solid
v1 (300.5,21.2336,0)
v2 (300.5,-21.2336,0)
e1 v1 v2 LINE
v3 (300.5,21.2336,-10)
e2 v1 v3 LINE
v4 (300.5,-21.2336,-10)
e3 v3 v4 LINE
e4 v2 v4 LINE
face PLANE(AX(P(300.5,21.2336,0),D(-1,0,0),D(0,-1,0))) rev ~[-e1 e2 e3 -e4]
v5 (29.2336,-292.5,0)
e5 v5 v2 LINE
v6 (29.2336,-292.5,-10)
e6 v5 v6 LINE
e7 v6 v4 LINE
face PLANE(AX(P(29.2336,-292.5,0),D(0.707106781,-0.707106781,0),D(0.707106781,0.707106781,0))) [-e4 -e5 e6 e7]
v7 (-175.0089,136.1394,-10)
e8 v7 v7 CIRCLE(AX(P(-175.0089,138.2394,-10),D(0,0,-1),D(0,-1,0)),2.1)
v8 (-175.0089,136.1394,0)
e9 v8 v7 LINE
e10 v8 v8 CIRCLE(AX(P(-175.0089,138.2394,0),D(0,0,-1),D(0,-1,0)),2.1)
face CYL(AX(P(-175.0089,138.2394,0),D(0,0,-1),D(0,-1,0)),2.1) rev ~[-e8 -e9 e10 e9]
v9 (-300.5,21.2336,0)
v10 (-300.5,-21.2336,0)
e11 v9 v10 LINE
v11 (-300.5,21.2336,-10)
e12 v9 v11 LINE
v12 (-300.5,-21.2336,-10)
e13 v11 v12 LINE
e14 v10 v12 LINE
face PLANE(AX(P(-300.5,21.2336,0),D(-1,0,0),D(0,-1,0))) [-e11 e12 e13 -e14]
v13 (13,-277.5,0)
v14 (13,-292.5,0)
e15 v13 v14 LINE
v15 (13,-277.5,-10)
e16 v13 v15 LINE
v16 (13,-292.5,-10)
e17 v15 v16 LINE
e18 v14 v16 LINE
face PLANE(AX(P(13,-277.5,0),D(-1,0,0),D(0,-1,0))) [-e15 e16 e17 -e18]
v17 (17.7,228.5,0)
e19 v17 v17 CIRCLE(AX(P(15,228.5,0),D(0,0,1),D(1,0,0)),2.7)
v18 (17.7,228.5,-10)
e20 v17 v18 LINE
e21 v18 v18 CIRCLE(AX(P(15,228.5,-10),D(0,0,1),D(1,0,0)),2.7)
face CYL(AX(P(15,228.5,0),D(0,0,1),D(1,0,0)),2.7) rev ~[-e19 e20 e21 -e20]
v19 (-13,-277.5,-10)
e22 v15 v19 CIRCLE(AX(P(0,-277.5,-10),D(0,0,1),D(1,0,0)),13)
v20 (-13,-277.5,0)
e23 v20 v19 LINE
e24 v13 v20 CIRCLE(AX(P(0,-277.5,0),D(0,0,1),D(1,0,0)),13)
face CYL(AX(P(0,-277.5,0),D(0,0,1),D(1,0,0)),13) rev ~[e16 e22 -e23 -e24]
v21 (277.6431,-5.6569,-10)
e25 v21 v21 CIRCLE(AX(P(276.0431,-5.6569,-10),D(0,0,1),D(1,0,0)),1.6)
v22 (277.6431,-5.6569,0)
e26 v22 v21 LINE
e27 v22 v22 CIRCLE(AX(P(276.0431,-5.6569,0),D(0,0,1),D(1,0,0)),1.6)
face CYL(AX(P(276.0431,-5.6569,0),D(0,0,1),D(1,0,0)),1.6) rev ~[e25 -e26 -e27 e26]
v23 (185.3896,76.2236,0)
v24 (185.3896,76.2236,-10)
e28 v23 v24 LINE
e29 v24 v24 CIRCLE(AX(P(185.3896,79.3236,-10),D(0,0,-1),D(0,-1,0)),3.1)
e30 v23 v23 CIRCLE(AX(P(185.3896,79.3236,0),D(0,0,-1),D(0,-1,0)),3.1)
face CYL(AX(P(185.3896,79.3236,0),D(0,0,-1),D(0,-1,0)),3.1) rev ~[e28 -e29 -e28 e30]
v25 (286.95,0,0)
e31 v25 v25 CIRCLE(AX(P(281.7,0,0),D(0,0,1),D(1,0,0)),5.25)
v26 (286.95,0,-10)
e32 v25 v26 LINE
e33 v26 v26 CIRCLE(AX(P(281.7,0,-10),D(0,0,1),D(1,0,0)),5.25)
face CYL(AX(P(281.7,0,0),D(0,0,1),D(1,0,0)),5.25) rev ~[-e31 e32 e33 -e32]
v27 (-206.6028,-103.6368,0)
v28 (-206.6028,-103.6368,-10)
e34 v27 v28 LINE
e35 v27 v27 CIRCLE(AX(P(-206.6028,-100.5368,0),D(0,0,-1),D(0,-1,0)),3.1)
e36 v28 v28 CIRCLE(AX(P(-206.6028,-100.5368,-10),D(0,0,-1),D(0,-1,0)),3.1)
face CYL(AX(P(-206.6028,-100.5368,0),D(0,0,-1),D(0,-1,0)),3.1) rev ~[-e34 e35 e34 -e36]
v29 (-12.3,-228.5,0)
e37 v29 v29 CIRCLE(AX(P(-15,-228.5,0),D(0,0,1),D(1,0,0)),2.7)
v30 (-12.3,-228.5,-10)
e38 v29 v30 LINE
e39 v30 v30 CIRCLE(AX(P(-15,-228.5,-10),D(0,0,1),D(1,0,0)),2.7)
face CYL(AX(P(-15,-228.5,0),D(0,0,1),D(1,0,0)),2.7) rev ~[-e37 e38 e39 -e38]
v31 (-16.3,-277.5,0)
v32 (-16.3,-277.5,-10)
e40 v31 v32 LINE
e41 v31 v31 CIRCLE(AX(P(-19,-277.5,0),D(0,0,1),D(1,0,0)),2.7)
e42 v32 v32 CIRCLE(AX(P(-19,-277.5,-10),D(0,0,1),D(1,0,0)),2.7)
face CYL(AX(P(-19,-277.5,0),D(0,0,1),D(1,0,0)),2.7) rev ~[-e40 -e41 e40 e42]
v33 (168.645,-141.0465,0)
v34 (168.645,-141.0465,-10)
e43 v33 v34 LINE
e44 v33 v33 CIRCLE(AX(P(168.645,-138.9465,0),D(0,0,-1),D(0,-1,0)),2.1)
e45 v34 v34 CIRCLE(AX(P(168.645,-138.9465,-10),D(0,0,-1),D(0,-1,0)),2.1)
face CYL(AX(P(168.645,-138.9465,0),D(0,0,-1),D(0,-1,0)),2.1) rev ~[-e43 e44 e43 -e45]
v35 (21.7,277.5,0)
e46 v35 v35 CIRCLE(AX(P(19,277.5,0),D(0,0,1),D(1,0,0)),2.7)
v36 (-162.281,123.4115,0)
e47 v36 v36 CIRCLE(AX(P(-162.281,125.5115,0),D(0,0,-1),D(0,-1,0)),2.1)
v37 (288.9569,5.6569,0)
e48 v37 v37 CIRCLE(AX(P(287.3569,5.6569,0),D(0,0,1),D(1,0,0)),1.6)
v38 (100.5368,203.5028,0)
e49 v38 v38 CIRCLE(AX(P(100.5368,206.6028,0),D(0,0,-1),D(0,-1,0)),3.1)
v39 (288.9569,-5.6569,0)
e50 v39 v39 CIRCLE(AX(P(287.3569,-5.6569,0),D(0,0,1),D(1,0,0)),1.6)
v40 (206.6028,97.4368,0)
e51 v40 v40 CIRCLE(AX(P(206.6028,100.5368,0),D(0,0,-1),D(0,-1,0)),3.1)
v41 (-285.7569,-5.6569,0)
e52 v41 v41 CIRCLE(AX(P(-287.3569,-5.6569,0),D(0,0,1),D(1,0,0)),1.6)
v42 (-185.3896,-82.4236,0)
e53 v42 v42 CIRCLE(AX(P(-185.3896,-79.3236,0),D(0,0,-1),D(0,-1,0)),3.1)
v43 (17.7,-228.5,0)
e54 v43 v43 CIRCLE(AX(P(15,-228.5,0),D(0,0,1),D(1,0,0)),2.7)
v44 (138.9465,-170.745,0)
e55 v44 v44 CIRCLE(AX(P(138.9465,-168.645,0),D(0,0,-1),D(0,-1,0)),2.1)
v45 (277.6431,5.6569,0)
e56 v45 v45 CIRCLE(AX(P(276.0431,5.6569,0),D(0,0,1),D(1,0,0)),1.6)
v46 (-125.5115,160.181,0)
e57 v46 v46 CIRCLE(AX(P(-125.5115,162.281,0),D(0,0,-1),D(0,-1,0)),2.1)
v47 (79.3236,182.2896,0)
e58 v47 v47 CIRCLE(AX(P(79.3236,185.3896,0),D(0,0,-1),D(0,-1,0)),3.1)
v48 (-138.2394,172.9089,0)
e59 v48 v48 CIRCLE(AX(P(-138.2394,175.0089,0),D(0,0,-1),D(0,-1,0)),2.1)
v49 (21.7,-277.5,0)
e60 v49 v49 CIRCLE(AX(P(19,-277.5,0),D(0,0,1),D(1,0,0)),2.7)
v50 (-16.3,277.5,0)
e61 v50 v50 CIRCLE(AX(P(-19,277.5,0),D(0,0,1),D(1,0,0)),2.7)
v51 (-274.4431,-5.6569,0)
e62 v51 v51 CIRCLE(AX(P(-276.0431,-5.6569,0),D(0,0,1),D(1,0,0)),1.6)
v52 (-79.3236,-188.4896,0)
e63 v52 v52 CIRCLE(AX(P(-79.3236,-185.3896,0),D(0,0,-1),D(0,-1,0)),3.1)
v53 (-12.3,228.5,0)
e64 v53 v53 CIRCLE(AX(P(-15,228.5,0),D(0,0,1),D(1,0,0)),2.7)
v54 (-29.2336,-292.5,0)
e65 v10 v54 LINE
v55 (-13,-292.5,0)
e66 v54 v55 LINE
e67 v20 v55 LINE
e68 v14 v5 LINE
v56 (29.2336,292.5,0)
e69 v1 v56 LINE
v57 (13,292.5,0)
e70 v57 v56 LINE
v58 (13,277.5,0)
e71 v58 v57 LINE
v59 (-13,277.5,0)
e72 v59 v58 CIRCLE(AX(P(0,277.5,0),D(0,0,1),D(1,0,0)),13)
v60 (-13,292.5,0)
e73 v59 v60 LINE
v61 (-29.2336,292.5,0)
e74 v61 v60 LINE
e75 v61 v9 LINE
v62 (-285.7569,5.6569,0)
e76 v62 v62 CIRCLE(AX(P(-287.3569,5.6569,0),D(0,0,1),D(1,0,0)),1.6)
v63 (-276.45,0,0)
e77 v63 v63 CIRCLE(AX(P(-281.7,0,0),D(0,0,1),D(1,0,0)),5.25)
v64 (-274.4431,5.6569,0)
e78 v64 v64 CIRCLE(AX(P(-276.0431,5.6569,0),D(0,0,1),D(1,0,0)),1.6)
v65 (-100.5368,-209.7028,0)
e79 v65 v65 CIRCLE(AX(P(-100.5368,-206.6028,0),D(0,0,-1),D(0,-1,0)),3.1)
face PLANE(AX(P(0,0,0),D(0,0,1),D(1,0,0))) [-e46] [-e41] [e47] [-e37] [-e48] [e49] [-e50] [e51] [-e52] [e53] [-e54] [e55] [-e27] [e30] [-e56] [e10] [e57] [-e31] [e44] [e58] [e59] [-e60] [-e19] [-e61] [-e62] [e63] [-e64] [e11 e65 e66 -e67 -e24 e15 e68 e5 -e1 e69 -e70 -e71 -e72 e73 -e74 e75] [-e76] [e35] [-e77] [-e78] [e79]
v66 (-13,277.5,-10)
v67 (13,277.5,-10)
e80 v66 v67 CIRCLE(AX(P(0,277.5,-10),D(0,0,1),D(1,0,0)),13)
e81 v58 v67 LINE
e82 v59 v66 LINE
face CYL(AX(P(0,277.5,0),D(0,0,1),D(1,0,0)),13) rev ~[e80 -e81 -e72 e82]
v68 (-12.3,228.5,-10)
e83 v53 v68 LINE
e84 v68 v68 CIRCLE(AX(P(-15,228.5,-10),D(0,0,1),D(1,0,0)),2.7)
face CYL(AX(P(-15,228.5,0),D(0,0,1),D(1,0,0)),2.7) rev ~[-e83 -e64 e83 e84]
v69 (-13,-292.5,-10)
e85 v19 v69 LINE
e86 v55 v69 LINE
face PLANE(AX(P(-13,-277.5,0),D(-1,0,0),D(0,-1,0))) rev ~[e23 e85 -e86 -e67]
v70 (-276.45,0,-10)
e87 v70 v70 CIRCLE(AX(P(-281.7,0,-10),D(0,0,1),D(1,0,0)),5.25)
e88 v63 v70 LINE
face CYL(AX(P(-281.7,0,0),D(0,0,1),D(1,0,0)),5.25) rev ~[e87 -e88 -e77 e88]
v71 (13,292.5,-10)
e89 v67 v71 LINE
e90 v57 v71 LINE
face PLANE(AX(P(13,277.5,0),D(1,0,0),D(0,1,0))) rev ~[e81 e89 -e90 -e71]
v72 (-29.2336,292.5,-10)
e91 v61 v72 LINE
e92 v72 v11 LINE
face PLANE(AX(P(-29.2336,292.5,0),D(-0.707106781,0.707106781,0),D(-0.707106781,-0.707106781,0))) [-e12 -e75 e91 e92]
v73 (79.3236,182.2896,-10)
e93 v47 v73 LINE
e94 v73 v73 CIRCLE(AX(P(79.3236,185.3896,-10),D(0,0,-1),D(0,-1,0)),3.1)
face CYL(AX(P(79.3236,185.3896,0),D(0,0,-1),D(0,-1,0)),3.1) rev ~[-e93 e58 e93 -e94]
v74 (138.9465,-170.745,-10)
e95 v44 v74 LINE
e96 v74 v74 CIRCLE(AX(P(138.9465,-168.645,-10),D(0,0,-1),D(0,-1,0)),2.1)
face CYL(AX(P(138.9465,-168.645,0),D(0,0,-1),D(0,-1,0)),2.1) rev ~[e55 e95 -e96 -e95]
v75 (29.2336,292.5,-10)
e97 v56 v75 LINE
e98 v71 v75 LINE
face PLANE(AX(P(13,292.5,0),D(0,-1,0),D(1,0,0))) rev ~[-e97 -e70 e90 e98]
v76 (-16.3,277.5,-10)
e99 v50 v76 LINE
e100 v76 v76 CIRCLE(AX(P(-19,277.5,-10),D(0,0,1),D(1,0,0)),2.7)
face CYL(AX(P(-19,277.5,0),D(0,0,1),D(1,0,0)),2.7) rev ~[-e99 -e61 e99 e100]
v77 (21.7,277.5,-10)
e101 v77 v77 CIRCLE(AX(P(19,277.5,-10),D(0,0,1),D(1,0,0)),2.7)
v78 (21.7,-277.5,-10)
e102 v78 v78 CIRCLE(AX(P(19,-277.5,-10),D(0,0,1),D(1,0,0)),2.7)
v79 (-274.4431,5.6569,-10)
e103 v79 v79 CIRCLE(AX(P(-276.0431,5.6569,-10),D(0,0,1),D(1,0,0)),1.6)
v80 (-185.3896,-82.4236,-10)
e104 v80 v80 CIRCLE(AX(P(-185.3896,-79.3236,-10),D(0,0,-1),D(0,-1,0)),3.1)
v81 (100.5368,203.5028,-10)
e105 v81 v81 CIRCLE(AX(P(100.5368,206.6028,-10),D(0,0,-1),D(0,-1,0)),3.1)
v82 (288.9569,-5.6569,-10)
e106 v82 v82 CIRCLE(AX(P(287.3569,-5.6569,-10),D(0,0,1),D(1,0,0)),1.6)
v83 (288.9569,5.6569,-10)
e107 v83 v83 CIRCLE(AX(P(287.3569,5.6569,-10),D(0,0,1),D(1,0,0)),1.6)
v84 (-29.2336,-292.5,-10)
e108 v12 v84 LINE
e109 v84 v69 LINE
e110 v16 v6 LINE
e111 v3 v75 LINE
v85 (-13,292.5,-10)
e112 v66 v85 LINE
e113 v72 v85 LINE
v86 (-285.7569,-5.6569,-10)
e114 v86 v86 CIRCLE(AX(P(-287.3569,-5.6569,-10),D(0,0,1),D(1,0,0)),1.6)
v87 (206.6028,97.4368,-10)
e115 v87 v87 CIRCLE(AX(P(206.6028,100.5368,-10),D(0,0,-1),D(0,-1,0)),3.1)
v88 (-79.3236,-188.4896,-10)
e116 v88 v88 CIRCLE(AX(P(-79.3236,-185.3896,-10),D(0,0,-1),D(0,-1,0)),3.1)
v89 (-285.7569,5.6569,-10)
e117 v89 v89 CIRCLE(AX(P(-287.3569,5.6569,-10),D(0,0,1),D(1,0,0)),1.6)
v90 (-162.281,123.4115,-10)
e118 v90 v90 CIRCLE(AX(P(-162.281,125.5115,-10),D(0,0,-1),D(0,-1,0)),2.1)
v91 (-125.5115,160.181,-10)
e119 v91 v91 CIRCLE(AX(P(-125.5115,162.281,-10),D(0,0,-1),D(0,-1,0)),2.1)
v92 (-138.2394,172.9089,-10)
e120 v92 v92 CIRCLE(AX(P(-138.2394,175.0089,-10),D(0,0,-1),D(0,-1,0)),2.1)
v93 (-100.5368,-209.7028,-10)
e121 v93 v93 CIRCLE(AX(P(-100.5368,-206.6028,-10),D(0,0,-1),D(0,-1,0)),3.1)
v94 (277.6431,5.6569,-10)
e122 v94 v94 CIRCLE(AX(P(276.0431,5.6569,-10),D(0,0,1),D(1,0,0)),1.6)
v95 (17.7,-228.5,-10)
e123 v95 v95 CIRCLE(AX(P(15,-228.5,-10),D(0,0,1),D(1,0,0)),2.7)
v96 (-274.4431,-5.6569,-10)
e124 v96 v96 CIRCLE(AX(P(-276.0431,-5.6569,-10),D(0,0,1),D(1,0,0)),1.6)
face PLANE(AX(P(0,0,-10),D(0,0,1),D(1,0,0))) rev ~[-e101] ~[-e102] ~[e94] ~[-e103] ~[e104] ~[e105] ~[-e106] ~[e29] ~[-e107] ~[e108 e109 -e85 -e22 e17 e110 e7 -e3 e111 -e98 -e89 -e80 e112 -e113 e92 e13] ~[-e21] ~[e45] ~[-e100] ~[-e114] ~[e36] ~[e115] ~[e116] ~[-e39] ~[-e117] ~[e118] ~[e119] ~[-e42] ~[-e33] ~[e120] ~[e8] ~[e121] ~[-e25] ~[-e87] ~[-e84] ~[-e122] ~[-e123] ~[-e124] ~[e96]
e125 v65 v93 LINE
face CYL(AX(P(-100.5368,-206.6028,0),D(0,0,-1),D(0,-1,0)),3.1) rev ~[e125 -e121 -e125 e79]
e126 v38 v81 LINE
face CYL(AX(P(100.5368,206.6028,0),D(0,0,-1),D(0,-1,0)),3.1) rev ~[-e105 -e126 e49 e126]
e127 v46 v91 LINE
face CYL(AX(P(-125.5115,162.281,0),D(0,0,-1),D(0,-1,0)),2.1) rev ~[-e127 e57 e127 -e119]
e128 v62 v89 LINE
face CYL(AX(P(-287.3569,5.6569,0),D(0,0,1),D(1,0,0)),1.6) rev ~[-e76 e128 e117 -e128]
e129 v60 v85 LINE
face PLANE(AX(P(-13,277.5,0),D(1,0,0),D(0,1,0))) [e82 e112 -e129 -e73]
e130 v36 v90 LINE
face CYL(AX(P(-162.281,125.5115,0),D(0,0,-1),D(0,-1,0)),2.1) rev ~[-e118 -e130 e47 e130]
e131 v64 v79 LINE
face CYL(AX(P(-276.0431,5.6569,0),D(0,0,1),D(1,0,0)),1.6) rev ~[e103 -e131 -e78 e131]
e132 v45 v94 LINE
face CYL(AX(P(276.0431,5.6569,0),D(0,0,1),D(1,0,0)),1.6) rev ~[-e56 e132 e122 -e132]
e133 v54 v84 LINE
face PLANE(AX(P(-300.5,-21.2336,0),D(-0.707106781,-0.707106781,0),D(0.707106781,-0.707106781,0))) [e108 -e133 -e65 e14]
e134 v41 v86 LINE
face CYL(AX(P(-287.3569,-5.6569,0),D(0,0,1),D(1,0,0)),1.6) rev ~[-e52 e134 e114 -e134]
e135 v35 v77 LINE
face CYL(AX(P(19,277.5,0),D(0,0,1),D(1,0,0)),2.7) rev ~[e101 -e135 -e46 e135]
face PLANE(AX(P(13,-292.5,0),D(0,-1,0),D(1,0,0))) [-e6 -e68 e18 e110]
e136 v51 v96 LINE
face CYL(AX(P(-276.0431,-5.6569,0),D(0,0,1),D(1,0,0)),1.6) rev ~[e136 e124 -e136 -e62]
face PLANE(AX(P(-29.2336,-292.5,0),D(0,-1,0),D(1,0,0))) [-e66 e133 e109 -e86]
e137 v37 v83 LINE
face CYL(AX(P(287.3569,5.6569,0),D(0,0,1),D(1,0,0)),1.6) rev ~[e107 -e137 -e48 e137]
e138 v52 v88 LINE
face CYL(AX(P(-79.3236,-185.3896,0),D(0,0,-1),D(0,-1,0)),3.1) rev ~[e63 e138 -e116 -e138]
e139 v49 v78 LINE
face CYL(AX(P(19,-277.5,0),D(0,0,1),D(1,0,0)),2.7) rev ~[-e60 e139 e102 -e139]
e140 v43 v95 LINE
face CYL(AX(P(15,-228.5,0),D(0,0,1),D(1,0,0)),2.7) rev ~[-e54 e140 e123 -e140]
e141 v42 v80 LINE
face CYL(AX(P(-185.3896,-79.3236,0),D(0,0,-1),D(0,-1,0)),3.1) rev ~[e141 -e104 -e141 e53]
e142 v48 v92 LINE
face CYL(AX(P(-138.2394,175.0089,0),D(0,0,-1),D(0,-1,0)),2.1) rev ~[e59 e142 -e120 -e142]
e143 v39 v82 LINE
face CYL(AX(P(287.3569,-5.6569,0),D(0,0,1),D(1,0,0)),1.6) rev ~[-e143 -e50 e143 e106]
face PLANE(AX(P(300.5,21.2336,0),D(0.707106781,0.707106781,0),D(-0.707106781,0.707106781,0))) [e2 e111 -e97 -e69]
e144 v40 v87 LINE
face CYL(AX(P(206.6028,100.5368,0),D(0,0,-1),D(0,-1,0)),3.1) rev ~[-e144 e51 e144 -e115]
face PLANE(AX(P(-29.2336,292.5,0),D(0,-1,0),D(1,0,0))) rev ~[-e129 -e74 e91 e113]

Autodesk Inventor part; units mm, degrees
ref_plane "YZ Plane" through (0, 0, 0) normal (1, 0, 0) x (0, 1, 0)
ref_plane "XZ Plane" through (0, 0, 0) normal (0, 1, 0) x (-1, 0, 0)
sketch "Sketch2" plane through (0, 0, 0) normal (0, 0, 1) x (1, 0, 0)
  circle A0 centre (0, 277.5) radius 8 construction
  circle A1 centre (0, 277.5) radius 13
  circle A2 centre (0, 277.5) radius 10.5 construction
  line L0 (25, 287.5) -> (-25, 287.5) construction
  line L1 (-25, 287.5) -> (-25, 222.5) construction
  line L2 (-25, 222.5) -> (25, 222.5) construction
  line L3 (25, 222.5) -> (25, 287.5) construction
  circle A3 centre (15, 228.5) radius 2.7
  circle A4 centre (-15, 228.5) radius 2.7
  circle A5 centre (-19, 277.5) radius 2.7
  circle A6 centre (19, 277.5) radius 2.7
  circle A7 centre (0, -277.5) radius 8 construction
  circle A8 centre (0, -277.5) radius 13
  circle A9 centre (0, -277.5) radius 10.5 construction
  line L4 (25, -287.5) -> (-25, -287.5) construction
  line L5 (-25, -287.5) -> (-25, -222.5) construction
  line L6 (-25, -222.5) -> (25, -222.5) construction
  line L7 (25, -222.5) -> (25, -287.5) construction
  circle A10 centre (-15, -228.5) radius 2.7
  circle A11 centre (15, -228.5) radius 2.7
  circle A12 centre (-19, -277.5) radius 2.7
  circle A13 centre (19, -277.5) radius 2.7
  line L8 (10.5, -277.5) -> (10.5, -287.5) construction
  line L9 (-10.5, -277.5) -> (-10.5, -287.5) construction
  line L10 (10.5, 277.5) -> (10.5, 287.5) construction
  line L11 (-10.5, 277.5) -> (-10.5, 287.5) construction
  circle A14 centre (281.7, 0) radius 5.25
  circle A15 centre (-281.7, 0) radius 5.25
  line L12 (0, -321.7336) -> (321.7336, 0)
  line L13 (321.7336, 0) -> (0, 321.7336)
  line L14 (0, 321.7336) -> (-321.7336, 0)
  line L15 (-321.7336, 0) -> (0, -321.7336)
  line L16 (0, -321.7336) -> (0, 321.7336) construction
  line L17 (321.7336, 0) -> (-321.7336, 0) construction
  line L18 (0, -321.7336) -> (455, -321.7336) construction
  line L19 (300.5, 21.2336) -> (300.5, -21.2336)
  line L20 (-300.5, 21.2336) -> (-300.5, -21.2336)
  line L21 (-24.2336, 297.5) -> (24.2336, 297.5) construction
  line L22 (-29.2336, 292.5) -> (29.2336, 292.5)
  line L23 (-24.2336, -297.5) -> (24.2336, -297.5) construction
  line L24 (-29.2336, -292.5) -> (29.2336, -292.5)
  line L25 (-9.5, 297.5) -> (-3.976, 284.442) construction
  line L26 (9.5, 297.5) -> (3.976, 284.442) construction
  line L27 (-14.929, 297.5) -> (-9.9883, 285.8207)
  line L28 (14.929, 297.5) -> (9.9883, 285.8207)
  line L29 (-9.5, -297.5) -> (-3.976, -284.442) construction
  line L30 (9.5, -297.5) -> (3.976, -284.442) construction
  line L31 (14.929, -297.5) -> (9.9883, -285.8207)
  line L32 (-14.929, -297.5) -> (-9.9883, -285.8207)
  line L33 (13, 277.5) -> (13, 292.5)
  line L34 (-13, 277.5) -> (-13, 292.5)
  line L35 (-13, -277.5) -> (-13, -292.5)
  line L36 (13, -277.5) -> (13, -292.5)
  line L37 (281.7, 0) -> (287.3569, 5.6569) construction
  line L38 (281.7, 0) -> (289.7, 0) construction
  circle A16 centre (287.3569, 5.6569) radius 1.6
  circle A17 centre (276.0431, 5.6569) radius 1.6
  circle A18 centre (276.0431, -5.6569) radius 1.6
  circle A19 centre (287.3569, -5.6569) radius 1.6
  line L39 (-281.7, 0) -> (-287.3569, 5.6569) construction
  circle A20 centre (-287.3569, 5.6569) radius 1.6
  circle A21 centre (-287.3569, -5.6569) radius 1.6
  circle A22 centre (-276.0431, -5.6569) radius 1.6
  circle A23 centre (-276.0431, 5.6569) radius 1.6
  point P0 (0, 0)
  point P1 (-12.8138, -292.5)
  point P2 (12.8138, -292.5)
  point P3 (12.8138, 292.5)
  point P4 (-12.8138, 292.5)
  point P5 (300.5, 292.5)
  point P6 (300.5, -292.5)
  point P7 (-300.5, -292.5)
  point P8 (-300.5, 292.5)
  dimension "d349" = 450
  dimension "d350" = 45
  dimension "d353" = 40
  dimension "d354" = 10
  dimension "d355" = 10
  dimension "d358" = 40
  dimension "d359" = 10
  dimension "d360" = 10
  dimension "d361" = 6.2
  dimension "d362" = 75
  dimension "d363" = 5
  dimension "d364" = 6.2
  dimension "d365" = 5
  dimension "d366" = 75
  dimension "d367" = 450
  dimension "d368" = 45
  dimension "d369" = 6.2
  dimension "d370" = 5
  dimension "d371" = 75
  dimension "d372" = 6.2
  dimension "d373" = 5
  dimension "d374" = 75
  dimension "d256" = 16
  dimension "d257" = 0
  dimension "d258" = 277.5
  dimension "d259" = 26
  dimension "d260" = 21
  dimension "d261" = 50
  dimension "d262" = 10
  dimension "d263" = 65
  dimension "d265" = 50
  dimension "d266" = 25
  dimension "d267" = 5.4
  dimension "d268" = 5.4
  dimension "d269" = 5.4
  dimension "d270" = 5.4
  dimension "d271" = 6
  dimension "d272" = 10
  dimension "d273" = 6
  dimension "d274" = 10
  dimension "d275" = 6
  dimension "d276" = 10
  dimension "d277" = 6
  dimension "d278" = 10
  dimension "d279" = 0
  dimension "d280" = 277.5
  dimension "d281" = 26
  dimension "d282" = 16
  dimension "d283" = 21
  dimension "d284" = 50
  dimension "d285" = 10
  dimension "d286" = 65
  dimension "d287" = 25
  dimension "d288" = 5.4
  dimension "d289" = 5.4
  dimension "d290" = 5.4
  dimension "d291" = 5.4
  dimension "d292" = 6
  dimension "d293" = 10
  dimension "d294" = 6
  dimension "d295" = 10
  dimension "d296" = 10
  dimension "d297" = 6
  dimension "d298" = 10
  dimension "d299" = 6
  dimension "d300" = 10.5
  dimension "d301" = 0
  dimension "d302" = 281.7
  dimension "d310" = 10.5
  dimension "d311" = 0
  dimension "d312" = 281.7
  dimension "d320" = 455
  dimension "d321" = 45
  dimension "d322" = 455
  dimension "d323" = 18.8
  dimension "d324" = 18.8
  dimension "d325" = 20
  dimension "d326" = 15
  dimension "d327" = 20
  dimension "d328" = 15
  dimension "d329" = 67.07
  dimension "d330" = 67.07
  dimension "d331" = 9.5
  dimension "d332" = 9.5
  dimension "d333" = 67.07
  dimension "d334" = 67.07
ref_plane "Work Plane1" through (0, 0, 0) normal (0, 0, 1) x (1, 0, 0)
sketch "Sketch3" plane through (0, 0, 0) normal (0, 0, 1) x (1, 0, 0)
  line L0 (-159.099, -159.099) -> (159.099, 159.099)
  line L1 (-159.099, -159.099) -> (290.901, -159.099) construction
  line L2 (279.2843, 34.9264) -> (34.9264, 279.2843)
  line L3 (34.9264, 279.2843) -> (6.6421, 251)
  line L4 (6.6421, 251) -> (251, 6.6421)
  line L5 (251, 6.6421) -> (279.2843, 34.9264)
  line L6 (279.2843, 34.9264) -> (6.6421, 251) construction
  line L7 (34.9264, 279.2843) -> (251, 6.6421) construction
  circle A0 centre (19, 277.5) radius 2.7 projected
  circle A1 centre (15, 228.5) radius 2.7 projected
  line L8 (-34.9264, -279.2843) -> (-279.2843, -34.9264)
  line L9 (-279.2843, -34.9264) -> (-251, -6.6421)
  line L10 (-251, -6.6421) -> (-6.6421, -251)
  line L11 (-6.6421, -251) -> (-34.9264, -279.2843)
  line L12 (-34.9264, -279.2843) -> (-251, -6.6421) construction
  line L13 (-279.2843, -34.9264) -> (-6.6421, -251) construction
  circle A2 centre (-15, -228.5) radius 2.7 projected
  circle A3 centre (-19, -277.5) radius 2.7 projected
  circle A4 centre (-79.3236, -185.3896) radius 3.1
  circle A5 centre (-100.5368, -206.6028) radius 3.1
  circle A6 centre (-185.3896, -79.3236) radius 3.1
  circle A7 centre (-206.6028, -100.5368) radius 3.1
  line L14 (-159.099, 159.099) -> (159.099, -159.099)
  line L15 (300.5, -21.2336) -> (29.2336, -292.5) projected
  line L16 (-159.099, 159.099) -> (290.901, 159.099) construction
  circle A8 centre (206.6028, 100.5368) radius 3.1
  circle A9 centre (185.3896, 79.3236) radius 3.1
  circle A10 centre (100.5368, 206.6028) radius 3.1
  circle A11 centre (79.3236, 185.3896) radius 3.1
  point P0 (0, 0)
  point P1 (142.9632, 142.9632)
  point P2 (-142.9632, -142.9632)
  point P3 (29.2336, -292.5)
  dimension "d349" = 450
  dimension "d350" = 45
  dimension "d353" = 40
  dimension "d354" = 10
  dimension "d355" = 10
  dimension "d358" = 40
  dimension "d359" = 10
  dimension "d360" = 10
  dimension "d361" = 6.2
  dimension "d362" = 75
  dimension "d363" = 5
  dimension "d364" = 6.2
  dimension "d365" = 5
  dimension "d366" = 75
  dimension "d367" = 450
  dimension "d368" = 45
  dimension "d369" = 6.2
  dimension "d370" = 5
  dimension "d371" = 75
  dimension "d372" = 6.2
  dimension "d373" = 5
  dimension "d374" = 75
extrude "Extrusion12" add sketch "Sketch2" against normal blind 10 contours L33 L22 L13 L19 L12 L24 L36 A8 L35 L15 L20 L14 L34 A1
hole "Hole2" at (100.5368, 206.6028, 0) at (79.3236, 185.3896, 0) at (206.6028, 100.5368, 0) at (185.3896, 79.3236, 0) at (-79.3236, -185.3896, 0) at (-100.5368, -206.6028, 0) at (-185.3896, -79.3236, 0) at (-206.6028, -100.5368, 0) direction (0, 0, -1) diameter 6.2 end through all
sketch "Sketch4" plane through (0, 0, 0) normal (0, 0, 1) x (1, 0, 0)
  line L0 (-160.8668, -160.8668) -> (160.8668, 160.8668)
  line L1 (29.2336, 292.5) -> (300.5, 21.2336) projected
  line L2 (-160.8668, -160.8668) -> (294.1332, -160.8668) construction
  line L3 (160.8668, -160.8668) -> (-160.8668, 160.8668)
  line L4 (-175.0089, 138.2394) -> (-138.2394, 175.0089) construction
  line L5 (-138.2394, 175.0089) -> (-125.5115, 162.281) construction
  line L6 (-125.5115, 162.281) -> (-162.281, 125.5115) construction
  line L7 (-162.281, 125.5115) -> (-175.0089, 138.2394) construction
  line L8 (-175.0089, 138.2394) -> (-125.5115, 162.281) construction
  line L9 (-138.2394, 175.0089) -> (-162.281, 125.5115) construction
  circle A0 centre (-138.2394, 175.0089) radius 2.1
  circle A1 centre (-125.5115, 162.281) radius 2.1
  circle A2 centre (-175.0089, 138.2394) radius 2.1
  circle A3 centre (-162.281, 125.5115) radius 2.1
  circle A4 centre (138.9465, -168.645) radius 2.1
  circle A5 centre (168.645, -138.9465) radius 2.1
  line L10 (138.9465, -168.645) -> (168.645, -138.9465) construction
  point P0 (0, 0)
  point P1 (-150.2602, 150.2602)
  point P2 (153.7957, -153.7957)
  dimension "d406" = 455
  dimension "d407" = 45
  dimension "d413" = 52
  dimension "d415" = 18
  dimension "d416" = 221.5
  dimension "d417" = 4.2
  dimension "d418" = 4.2
  dimension "d419" = 4.2
  dimension "d420" = 4.2
  dimension "d421" = 4.2
  dimension "d422" = 4.2
  dimension "d423" = 42
  dimension "d424" = 217.5
hole "Hole3" at (-175.0089, 138.2394, 0) at (-162.281, 125.5115, 0) at (-125.5115, 162.281, 0) at (-138.2394, 175.0089, 0) at (138.9465, -168.645, 0) at (168.645, -138.9465, 0) direction (0, 0, -1) diameter 4.2 end through all
equation "\"dist_rails\" = 555"
equation "\"dist_leadscrews\" = 563.4"
equation "\"diam_leadscrew_hole\" = 10.5"
equation "\"z_plate_width\" = 455"
equation "\"delta\" = 5"
equation "\"rail_angle\" = 67.07deg"
equation "\"rail_D\" = 9.5"
equation "\"rail_diam\" = 16"
properties part number "z_plate" material "Aluminum 6061"
